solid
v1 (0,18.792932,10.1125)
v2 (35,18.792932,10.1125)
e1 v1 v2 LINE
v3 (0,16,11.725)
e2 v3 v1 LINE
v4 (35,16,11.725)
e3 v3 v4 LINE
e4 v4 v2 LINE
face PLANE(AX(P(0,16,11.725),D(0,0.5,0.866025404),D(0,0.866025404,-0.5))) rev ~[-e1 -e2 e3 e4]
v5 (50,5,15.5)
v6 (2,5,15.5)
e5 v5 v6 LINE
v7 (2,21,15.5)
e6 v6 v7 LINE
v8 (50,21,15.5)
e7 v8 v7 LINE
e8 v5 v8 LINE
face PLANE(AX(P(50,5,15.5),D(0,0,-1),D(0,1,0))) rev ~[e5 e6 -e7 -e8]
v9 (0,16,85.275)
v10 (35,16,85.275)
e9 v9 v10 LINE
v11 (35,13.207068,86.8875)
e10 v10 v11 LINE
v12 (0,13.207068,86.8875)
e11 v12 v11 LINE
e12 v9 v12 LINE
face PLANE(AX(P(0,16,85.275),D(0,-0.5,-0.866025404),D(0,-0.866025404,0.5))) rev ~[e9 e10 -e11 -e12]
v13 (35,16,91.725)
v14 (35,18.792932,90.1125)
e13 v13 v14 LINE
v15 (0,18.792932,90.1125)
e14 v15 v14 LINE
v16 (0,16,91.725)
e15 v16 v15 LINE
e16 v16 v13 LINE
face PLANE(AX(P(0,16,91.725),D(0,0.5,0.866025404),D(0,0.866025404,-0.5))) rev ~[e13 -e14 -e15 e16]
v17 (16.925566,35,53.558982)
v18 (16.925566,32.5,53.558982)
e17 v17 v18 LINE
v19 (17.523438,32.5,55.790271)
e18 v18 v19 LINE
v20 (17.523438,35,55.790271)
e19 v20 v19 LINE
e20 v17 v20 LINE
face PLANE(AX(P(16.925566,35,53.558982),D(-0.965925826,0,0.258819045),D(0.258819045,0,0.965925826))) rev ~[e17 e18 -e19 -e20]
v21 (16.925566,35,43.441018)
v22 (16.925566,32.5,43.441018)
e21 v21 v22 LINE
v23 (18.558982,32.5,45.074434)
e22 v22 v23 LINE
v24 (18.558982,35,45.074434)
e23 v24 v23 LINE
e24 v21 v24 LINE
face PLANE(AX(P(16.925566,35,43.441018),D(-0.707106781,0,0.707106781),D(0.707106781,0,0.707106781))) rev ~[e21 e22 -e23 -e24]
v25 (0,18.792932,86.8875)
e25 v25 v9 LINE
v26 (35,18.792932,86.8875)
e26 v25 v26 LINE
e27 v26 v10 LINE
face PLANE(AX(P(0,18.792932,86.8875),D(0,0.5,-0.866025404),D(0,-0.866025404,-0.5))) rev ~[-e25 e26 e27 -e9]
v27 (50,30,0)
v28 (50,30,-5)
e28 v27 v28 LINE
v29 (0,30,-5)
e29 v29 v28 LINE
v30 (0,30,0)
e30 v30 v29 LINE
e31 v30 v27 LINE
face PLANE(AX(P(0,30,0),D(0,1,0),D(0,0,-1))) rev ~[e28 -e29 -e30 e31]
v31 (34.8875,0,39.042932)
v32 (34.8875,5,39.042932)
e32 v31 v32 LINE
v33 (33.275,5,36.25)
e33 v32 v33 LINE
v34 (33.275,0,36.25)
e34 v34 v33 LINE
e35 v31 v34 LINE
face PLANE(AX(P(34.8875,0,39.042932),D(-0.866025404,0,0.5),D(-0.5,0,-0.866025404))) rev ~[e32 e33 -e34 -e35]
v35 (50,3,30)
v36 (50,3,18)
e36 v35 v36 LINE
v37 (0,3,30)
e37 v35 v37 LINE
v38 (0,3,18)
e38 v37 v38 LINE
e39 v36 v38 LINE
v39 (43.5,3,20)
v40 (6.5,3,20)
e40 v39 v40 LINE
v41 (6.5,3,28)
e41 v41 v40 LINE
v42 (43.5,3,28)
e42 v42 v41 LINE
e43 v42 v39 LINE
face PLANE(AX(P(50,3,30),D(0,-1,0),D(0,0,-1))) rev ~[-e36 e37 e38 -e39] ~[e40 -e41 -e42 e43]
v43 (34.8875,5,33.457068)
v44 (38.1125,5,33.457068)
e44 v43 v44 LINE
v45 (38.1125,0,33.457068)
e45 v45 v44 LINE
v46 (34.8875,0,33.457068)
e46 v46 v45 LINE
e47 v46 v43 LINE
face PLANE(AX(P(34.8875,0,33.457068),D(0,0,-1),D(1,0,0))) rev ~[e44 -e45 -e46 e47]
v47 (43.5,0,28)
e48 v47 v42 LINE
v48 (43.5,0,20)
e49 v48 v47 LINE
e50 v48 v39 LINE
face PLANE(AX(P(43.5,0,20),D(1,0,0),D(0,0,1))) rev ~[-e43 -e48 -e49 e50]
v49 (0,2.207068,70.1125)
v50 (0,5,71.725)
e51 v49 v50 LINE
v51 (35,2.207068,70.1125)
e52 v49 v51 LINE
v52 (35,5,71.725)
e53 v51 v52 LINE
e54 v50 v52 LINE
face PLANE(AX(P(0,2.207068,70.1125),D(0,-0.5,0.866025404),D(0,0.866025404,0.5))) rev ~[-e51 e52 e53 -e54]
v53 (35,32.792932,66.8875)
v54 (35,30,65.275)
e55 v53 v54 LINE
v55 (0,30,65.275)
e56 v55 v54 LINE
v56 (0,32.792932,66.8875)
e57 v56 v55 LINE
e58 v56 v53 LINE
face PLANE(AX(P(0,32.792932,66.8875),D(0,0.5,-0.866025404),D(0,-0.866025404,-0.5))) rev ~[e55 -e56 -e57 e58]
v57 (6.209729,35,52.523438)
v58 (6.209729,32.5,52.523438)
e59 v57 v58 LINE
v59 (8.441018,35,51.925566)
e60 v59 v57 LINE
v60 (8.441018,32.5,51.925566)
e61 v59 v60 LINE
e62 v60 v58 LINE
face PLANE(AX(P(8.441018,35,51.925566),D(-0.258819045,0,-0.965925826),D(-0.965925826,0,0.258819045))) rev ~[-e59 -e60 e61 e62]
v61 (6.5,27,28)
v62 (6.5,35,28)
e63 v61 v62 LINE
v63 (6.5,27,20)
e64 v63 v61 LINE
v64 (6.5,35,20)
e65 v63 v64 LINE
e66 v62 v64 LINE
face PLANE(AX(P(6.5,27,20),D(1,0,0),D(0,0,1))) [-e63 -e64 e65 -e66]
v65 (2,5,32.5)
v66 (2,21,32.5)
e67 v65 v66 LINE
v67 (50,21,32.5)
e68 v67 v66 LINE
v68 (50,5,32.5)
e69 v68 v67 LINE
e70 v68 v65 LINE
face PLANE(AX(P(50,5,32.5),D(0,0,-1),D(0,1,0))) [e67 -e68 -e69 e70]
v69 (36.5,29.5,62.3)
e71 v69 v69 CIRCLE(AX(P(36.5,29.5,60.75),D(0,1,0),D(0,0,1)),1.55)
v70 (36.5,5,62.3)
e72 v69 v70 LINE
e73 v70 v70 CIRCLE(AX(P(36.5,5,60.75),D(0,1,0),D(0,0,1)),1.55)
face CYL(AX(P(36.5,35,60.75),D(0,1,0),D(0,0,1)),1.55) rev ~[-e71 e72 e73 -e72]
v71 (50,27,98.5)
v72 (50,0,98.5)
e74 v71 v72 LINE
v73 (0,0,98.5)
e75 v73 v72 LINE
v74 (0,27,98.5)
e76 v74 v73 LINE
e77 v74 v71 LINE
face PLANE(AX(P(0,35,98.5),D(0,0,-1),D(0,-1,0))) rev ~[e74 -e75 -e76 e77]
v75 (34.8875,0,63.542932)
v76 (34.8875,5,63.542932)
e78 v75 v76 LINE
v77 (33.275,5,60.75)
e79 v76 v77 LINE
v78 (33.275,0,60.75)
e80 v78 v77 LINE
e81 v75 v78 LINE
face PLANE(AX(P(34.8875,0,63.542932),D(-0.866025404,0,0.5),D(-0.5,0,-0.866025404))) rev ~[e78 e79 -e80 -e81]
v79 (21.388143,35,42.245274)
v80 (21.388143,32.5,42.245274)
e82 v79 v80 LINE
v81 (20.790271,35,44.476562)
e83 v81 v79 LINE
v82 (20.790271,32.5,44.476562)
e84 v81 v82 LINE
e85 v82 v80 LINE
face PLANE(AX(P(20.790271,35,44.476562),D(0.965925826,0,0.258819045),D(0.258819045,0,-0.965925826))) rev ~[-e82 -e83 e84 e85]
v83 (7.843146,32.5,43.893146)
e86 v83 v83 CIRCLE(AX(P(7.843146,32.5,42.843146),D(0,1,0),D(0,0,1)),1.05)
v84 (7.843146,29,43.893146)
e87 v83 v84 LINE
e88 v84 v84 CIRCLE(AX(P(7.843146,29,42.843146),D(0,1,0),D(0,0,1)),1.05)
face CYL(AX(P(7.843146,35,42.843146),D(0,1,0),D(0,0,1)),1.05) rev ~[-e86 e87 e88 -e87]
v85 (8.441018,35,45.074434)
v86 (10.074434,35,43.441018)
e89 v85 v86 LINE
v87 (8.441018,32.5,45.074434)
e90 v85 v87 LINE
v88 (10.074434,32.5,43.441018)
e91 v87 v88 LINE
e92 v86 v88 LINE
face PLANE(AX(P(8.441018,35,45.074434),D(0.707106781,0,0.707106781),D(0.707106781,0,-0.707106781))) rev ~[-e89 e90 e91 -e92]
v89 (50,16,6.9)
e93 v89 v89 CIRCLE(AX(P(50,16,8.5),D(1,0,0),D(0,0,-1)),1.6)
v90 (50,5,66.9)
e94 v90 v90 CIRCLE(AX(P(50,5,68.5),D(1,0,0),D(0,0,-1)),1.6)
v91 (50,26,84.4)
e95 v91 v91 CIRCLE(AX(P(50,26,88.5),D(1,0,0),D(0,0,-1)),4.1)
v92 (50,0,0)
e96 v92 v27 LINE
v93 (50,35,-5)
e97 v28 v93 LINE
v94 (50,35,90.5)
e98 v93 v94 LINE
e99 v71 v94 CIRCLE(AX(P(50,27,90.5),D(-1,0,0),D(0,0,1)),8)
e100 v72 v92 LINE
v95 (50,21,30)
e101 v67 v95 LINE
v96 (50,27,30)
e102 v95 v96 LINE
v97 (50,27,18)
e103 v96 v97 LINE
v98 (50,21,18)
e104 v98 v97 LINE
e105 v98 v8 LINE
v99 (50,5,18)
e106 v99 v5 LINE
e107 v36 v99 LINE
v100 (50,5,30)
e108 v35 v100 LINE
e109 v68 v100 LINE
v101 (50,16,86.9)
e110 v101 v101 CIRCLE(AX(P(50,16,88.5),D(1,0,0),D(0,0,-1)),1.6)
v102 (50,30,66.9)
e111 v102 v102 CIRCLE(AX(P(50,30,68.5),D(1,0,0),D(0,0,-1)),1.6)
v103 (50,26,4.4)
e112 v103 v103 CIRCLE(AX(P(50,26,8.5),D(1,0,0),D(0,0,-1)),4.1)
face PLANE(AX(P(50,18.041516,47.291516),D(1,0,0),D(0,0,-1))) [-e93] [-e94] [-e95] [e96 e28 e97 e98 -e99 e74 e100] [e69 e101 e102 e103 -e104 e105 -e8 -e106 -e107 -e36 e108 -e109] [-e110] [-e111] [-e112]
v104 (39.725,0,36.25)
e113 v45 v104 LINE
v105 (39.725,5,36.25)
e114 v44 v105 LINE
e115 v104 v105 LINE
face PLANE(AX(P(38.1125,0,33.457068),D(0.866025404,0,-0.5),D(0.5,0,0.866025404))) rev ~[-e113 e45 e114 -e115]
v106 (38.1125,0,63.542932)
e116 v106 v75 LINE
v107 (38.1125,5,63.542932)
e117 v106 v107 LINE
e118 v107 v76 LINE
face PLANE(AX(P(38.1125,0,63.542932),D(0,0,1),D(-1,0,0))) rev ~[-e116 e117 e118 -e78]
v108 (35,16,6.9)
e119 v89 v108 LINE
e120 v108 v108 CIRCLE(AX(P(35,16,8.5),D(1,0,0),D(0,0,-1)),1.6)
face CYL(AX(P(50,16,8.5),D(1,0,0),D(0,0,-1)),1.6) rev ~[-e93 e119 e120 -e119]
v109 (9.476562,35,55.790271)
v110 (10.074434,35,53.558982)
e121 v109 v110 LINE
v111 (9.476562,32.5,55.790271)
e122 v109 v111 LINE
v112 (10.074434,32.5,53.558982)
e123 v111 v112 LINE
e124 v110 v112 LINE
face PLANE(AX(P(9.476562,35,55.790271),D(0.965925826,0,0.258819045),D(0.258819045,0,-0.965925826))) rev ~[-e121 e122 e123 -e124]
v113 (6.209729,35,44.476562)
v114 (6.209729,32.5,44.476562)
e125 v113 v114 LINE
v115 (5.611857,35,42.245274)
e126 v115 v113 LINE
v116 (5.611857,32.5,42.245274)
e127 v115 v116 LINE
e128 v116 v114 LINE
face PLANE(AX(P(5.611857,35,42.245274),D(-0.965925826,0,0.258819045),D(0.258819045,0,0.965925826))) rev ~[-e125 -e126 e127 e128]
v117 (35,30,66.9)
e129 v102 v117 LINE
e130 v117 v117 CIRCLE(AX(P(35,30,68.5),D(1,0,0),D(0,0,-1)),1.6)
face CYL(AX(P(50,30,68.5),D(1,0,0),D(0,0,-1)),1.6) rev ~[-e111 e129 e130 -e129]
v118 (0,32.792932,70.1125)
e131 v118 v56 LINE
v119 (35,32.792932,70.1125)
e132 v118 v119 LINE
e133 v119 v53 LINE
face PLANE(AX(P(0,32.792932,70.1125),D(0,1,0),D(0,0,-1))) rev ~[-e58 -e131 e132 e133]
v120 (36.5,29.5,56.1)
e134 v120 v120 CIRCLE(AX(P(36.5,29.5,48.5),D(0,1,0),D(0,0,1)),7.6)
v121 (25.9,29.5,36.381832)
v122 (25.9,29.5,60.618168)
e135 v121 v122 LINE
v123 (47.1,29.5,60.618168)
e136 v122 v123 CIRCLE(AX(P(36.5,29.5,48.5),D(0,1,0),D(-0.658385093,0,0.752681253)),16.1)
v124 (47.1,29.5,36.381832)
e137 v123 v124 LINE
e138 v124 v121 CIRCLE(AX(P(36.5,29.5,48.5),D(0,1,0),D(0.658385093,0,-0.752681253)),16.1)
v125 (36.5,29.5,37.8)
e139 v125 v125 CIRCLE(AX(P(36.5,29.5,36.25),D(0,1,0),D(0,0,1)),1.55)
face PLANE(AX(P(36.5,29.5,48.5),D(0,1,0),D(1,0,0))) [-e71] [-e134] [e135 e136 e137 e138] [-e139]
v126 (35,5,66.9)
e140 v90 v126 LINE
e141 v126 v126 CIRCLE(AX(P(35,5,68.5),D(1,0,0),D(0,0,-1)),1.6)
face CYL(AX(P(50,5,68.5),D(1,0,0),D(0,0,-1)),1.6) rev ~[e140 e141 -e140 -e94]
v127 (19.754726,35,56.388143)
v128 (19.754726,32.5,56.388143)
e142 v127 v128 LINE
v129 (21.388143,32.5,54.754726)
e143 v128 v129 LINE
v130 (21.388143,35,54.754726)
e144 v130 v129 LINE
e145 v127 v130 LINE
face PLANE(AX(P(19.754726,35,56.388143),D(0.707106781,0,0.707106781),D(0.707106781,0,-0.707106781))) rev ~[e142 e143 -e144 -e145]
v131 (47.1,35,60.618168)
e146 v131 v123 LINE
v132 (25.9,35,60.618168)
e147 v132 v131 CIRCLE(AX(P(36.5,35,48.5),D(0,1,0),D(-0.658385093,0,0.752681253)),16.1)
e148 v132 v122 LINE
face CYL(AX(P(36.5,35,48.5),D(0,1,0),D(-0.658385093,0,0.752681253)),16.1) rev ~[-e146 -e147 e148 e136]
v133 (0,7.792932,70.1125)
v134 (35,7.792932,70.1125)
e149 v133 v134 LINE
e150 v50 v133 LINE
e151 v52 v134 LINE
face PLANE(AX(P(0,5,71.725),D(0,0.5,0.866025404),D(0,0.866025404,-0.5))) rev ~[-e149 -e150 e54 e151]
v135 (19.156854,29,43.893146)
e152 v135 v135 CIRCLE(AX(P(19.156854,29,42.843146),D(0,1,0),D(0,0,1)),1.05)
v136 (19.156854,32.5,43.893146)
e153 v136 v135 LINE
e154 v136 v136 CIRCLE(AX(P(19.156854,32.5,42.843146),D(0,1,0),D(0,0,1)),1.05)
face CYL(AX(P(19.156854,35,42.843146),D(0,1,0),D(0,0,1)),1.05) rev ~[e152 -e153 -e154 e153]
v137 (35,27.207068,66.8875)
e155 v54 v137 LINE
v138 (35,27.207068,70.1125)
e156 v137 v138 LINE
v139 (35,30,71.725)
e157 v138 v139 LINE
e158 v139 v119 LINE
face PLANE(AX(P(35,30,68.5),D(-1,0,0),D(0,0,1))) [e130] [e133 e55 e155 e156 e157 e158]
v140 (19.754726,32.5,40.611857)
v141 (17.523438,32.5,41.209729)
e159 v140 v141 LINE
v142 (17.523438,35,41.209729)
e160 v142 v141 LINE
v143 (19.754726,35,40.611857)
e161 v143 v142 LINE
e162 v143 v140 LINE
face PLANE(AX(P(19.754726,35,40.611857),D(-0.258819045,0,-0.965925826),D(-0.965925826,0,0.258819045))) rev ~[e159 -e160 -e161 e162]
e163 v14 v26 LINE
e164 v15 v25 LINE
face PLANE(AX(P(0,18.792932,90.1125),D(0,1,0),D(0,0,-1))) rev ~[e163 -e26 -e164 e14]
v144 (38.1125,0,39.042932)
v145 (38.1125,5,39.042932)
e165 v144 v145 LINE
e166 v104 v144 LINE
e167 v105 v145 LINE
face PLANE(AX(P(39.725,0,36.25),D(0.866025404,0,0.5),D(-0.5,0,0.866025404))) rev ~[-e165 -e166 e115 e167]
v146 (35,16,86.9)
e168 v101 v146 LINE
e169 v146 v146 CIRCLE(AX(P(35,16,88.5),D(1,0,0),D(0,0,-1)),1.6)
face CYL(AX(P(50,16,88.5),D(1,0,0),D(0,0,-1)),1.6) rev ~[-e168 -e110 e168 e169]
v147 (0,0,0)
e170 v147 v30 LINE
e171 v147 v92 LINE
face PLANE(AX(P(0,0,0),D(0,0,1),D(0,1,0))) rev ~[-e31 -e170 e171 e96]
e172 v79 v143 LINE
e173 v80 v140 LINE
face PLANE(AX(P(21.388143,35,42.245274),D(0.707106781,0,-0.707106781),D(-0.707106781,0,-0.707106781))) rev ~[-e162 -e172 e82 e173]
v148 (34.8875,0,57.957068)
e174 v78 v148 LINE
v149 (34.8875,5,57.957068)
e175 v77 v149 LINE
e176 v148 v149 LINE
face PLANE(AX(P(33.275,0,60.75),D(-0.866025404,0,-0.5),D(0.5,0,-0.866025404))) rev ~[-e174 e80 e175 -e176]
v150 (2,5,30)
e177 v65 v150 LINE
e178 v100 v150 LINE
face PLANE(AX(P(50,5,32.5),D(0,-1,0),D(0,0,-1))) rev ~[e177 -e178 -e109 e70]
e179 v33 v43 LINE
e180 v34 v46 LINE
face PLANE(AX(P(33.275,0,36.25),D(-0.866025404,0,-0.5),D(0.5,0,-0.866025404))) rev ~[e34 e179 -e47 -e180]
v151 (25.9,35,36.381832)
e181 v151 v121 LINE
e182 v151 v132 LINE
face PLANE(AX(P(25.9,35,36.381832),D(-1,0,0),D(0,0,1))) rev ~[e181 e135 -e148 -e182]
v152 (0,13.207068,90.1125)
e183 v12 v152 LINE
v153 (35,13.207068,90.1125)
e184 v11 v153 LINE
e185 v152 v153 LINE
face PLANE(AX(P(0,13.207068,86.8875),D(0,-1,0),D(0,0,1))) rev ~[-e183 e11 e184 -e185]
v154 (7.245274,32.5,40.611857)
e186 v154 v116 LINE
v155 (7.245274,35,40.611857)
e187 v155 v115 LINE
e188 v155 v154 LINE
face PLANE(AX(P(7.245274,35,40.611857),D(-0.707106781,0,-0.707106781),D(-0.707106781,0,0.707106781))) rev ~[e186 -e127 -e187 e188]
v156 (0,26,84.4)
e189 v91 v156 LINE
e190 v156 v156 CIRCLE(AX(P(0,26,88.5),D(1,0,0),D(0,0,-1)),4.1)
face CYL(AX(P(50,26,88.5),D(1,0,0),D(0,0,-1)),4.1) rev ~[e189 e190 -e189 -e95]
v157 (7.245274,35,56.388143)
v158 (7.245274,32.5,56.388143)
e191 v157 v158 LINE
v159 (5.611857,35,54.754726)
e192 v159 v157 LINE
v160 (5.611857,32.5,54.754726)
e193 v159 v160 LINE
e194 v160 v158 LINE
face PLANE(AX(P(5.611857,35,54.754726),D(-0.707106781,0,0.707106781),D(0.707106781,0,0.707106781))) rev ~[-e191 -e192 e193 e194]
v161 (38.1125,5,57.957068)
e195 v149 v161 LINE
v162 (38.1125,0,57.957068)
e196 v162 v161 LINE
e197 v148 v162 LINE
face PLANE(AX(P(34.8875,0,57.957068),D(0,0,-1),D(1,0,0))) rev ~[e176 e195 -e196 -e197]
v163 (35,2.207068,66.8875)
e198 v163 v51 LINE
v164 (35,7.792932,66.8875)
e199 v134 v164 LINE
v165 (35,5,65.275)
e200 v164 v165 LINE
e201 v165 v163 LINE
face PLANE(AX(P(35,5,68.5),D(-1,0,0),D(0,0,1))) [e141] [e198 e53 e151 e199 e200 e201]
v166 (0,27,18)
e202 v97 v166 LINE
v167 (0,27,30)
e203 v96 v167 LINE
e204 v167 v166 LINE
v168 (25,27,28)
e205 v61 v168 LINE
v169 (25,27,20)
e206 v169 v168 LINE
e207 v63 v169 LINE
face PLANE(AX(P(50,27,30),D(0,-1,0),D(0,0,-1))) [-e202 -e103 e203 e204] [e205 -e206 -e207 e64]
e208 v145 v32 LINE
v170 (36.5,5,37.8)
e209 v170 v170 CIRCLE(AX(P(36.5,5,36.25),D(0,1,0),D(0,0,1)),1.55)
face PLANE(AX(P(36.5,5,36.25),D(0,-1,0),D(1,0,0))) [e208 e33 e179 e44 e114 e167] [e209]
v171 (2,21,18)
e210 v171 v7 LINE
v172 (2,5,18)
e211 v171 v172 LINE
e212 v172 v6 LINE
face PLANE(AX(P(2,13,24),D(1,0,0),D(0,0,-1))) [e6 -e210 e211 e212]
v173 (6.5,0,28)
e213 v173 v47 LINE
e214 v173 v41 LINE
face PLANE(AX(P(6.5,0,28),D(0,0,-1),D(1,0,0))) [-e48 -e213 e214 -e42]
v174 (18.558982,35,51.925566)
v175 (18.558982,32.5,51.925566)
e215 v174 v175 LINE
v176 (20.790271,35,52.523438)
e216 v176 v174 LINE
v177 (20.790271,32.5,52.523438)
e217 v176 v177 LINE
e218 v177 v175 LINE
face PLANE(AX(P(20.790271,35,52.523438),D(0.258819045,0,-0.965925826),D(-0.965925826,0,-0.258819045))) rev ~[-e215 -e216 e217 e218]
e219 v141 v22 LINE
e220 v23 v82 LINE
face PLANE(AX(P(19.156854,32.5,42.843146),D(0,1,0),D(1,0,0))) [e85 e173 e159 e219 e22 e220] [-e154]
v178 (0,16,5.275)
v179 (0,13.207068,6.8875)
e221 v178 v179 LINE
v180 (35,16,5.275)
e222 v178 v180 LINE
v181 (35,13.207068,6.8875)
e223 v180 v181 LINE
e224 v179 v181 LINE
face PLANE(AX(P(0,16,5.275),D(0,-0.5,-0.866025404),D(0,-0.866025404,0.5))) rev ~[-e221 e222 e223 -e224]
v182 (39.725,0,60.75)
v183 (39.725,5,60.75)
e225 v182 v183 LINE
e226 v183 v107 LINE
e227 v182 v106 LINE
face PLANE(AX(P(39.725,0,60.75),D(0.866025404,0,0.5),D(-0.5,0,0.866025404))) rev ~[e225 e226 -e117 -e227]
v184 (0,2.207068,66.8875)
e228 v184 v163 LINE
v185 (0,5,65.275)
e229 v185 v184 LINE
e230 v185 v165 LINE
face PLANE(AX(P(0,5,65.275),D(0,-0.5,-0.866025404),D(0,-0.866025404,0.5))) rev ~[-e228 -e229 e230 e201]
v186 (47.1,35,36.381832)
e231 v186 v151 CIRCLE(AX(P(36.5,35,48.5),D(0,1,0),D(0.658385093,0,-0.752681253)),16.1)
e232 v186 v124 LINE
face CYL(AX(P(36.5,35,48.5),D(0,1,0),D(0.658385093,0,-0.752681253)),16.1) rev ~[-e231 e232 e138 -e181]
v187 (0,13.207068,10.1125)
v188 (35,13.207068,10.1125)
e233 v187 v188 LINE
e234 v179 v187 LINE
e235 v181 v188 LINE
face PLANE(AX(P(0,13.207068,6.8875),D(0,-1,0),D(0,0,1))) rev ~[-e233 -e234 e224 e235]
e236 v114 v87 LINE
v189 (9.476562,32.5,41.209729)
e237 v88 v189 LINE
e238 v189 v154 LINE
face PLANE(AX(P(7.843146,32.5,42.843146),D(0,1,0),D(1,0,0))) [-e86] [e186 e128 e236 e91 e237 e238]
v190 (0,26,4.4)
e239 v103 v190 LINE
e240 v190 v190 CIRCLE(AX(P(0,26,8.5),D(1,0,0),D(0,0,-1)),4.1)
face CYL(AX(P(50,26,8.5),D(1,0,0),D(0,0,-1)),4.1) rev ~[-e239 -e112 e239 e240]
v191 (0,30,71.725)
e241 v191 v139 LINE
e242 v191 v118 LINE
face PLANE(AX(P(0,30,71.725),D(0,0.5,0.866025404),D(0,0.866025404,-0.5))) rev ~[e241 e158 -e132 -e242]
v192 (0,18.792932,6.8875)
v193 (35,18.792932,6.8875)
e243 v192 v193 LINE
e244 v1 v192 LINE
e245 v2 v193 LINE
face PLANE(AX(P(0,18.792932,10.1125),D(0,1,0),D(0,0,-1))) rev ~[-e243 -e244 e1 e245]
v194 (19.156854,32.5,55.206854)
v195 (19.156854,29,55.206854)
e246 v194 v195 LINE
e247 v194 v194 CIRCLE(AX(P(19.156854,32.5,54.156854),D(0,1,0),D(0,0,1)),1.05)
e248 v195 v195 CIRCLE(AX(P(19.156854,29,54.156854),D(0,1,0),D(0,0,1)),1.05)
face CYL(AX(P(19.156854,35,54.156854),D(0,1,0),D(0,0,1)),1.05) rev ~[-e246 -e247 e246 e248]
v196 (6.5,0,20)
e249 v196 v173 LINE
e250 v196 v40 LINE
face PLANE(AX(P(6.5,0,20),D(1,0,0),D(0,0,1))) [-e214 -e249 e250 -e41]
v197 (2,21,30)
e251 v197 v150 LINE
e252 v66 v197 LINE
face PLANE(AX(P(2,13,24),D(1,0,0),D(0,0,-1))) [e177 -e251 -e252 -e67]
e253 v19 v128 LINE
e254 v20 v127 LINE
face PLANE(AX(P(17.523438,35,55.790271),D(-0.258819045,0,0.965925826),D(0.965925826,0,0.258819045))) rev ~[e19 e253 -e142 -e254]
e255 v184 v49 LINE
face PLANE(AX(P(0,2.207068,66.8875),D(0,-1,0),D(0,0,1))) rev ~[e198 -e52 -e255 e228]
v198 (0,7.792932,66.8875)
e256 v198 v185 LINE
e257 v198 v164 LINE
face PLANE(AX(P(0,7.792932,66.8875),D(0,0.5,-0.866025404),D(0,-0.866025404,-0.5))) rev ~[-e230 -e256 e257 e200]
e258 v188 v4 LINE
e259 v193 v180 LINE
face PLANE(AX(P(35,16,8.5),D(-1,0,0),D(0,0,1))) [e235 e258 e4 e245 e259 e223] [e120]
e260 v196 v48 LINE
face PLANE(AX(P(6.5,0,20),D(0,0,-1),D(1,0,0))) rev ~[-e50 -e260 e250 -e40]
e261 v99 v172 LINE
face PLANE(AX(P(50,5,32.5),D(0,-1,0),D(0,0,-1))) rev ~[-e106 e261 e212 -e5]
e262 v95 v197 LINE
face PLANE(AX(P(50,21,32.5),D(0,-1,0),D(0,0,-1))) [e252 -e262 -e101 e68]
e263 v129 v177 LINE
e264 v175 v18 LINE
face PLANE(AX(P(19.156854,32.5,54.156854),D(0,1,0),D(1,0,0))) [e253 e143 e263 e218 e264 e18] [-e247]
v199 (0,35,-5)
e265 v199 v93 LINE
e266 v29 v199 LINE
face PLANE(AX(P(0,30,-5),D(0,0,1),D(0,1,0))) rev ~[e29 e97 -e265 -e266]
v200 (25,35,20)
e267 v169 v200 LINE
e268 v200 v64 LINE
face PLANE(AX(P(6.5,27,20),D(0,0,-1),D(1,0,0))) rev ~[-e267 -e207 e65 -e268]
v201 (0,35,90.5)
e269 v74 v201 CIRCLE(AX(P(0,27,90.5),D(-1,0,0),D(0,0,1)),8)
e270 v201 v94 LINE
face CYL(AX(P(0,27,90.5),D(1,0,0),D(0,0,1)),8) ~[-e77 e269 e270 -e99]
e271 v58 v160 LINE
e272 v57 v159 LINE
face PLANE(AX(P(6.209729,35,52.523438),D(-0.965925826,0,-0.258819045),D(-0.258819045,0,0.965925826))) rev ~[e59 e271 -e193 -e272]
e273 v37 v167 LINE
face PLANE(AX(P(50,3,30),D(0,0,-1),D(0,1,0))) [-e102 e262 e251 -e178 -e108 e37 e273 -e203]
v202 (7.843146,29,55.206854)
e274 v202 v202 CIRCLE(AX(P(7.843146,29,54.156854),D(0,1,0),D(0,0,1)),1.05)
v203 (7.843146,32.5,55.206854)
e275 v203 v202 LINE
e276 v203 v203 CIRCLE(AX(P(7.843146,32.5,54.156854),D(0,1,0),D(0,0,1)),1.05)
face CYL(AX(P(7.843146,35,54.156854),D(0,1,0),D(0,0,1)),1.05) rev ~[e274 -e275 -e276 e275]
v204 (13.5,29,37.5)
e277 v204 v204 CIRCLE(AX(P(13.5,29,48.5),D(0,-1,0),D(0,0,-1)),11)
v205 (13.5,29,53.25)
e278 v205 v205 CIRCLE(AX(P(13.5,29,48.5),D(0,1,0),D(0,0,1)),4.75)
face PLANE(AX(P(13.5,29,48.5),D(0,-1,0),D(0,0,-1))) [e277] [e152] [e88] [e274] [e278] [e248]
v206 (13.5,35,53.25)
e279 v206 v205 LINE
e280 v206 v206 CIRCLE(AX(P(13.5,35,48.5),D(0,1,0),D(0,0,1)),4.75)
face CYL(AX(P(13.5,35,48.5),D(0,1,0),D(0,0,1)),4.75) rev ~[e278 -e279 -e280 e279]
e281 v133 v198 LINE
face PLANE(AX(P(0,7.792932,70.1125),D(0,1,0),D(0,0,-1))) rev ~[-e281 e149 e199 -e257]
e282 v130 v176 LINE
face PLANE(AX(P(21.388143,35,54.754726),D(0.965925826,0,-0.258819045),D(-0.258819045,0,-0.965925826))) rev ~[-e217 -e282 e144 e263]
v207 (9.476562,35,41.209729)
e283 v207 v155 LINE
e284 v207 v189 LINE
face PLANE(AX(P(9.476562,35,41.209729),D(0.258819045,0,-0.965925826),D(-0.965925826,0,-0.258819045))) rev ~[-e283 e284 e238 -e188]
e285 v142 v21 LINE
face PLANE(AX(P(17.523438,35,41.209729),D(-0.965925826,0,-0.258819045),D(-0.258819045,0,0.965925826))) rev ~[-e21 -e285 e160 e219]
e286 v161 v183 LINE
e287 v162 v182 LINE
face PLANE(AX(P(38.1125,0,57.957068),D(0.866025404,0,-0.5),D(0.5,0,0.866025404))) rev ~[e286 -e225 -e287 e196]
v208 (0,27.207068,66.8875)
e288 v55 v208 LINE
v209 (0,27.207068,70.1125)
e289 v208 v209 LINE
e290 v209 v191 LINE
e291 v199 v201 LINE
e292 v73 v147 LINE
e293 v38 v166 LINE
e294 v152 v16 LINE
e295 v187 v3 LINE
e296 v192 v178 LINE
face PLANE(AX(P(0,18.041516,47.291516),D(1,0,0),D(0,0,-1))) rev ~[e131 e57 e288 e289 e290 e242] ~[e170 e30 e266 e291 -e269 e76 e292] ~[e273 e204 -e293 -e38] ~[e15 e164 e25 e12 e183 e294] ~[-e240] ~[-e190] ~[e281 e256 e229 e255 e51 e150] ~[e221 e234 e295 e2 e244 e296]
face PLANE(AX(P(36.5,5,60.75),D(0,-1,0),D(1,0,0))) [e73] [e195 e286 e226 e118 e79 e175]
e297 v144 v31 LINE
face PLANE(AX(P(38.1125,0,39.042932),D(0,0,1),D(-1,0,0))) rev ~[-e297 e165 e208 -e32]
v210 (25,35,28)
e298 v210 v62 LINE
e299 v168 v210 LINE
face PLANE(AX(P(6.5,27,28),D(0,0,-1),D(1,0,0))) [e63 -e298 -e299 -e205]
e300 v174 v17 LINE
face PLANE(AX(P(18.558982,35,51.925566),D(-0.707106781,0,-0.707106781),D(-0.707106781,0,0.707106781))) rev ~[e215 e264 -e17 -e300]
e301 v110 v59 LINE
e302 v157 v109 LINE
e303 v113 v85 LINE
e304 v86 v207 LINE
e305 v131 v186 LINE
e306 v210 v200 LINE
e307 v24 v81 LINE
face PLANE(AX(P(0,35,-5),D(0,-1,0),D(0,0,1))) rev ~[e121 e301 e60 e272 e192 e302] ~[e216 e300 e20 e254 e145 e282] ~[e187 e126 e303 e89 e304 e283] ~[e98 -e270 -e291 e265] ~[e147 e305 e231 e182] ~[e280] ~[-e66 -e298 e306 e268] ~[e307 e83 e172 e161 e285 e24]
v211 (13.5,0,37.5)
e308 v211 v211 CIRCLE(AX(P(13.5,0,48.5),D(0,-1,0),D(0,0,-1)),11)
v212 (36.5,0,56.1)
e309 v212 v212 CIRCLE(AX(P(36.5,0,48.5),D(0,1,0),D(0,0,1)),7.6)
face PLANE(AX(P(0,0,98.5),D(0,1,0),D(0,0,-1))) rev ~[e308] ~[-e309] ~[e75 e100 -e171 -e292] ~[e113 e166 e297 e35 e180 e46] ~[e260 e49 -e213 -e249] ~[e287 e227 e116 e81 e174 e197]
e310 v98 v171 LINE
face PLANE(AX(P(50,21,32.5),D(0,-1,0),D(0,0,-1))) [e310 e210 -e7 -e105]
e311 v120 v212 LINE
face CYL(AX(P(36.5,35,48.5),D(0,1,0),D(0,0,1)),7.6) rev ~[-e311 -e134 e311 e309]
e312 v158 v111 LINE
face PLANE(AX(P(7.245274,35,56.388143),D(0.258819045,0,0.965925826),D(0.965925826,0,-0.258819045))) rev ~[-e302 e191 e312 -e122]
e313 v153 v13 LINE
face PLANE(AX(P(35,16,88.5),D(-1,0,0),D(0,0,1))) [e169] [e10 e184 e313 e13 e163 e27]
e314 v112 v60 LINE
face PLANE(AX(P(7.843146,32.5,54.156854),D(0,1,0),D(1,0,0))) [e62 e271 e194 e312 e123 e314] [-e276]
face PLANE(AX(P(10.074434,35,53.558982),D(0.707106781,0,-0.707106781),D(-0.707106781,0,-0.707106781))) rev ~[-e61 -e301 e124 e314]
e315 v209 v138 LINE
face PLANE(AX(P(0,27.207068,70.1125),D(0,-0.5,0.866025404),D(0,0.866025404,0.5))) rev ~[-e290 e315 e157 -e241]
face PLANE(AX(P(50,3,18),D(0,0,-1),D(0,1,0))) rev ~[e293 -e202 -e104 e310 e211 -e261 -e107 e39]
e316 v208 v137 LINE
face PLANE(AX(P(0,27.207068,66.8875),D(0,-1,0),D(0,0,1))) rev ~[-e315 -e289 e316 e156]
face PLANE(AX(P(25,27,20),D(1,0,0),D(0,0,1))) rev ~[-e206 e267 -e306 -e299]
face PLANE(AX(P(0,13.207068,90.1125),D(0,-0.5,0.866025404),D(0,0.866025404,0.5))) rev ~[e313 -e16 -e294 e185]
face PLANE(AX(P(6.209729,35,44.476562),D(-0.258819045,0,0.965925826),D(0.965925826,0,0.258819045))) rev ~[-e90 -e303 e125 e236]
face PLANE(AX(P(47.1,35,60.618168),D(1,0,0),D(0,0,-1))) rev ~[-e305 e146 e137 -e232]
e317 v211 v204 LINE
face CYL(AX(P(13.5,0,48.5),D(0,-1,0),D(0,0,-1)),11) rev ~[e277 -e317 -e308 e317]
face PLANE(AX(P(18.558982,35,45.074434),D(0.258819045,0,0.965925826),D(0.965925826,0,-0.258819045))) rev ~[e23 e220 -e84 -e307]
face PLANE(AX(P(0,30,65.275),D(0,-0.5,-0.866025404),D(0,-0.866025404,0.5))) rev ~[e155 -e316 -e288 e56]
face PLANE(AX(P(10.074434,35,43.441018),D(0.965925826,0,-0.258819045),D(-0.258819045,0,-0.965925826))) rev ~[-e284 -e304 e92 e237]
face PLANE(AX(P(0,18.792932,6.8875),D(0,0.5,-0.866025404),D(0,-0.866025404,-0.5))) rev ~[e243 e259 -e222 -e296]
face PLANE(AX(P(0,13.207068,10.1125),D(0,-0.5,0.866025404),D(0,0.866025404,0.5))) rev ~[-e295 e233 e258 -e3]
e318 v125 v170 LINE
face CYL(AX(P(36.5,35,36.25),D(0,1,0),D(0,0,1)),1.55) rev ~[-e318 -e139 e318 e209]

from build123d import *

# Parameters (mm, degrees)
BOSS_EXTRUDE1_DEPTH            = 50
SKETCH2_R                      = 7.6
SKETCH2_R_2                    = 4.75
SKETCH2_R_3                    = 1.55
SKETCH2_R_4                    = 1.05
CUT_EXTRUDE1_DEPTH             = 116.876011322
CUT_EXTRUDE2_DEPTH             = 5.5
SKETCH4_R                      = 11
CUT_EXTRUDE3_DEPTH             = 29
CUT_EXTRUDE4_DEPTH             = 5
CUT_EXTRUDE5_DEPTH             = 2.5
SKETCH7_R                      = 4.1
SKETCH7_R_2                    = 1.6
SKETCH7_W                      = 12
SKETCH7_H                      = 24
CUT_EXTRUDE6_DEPTH             = 116.876011322
CUT_EXTRUDE7_DEPTH             = 35
SKETCH9_W                      = 17
SKETCH9_H                      = 16
CUT_EXTRUDE8_DEPTH             = 48
CUT_EXTRUDE9_REACH             = 117.876
SKETCH10_W                     = 37
SKETCH10_H                     = 8
CUT_EXTRUDE9_DIRECTION_2_DEPTH = 116.876011322
CUT_EXTRUDE10_REACH            = 115.716
SKETCH11_W                     = 18.5
SKETCH11_H                     = 8
FILLET1_R                      = 8


with BuildPart() as part:
    # Sketch1 → Boss-Extrude1 (new body)
    with BuildSketch(Plane(origin=(0, 0, 0), x_dir=(0, 0, -1), z_dir=(1, 0, 0))):
        Polygon((0, 0), (0, 30), (5, 30), (5, 35), (-98.5, 35), (-98.5, 0), align=None)
    extrude(amount=BOSS_EXTRUDE1_DEPTH)

    # Sketch2 → Cut-Extrude1 (cut, through all)
    with BuildSketch(Plane(origin=(0, 35, 0), x_dir=(1, 0, 0), z_dir=(0, 1, 0))):
        with Locations(Location((36.5, -48.5, 0), (0, 0, 270))):
            Circle(SKETCH2_R)
        with Locations(Location((13.5, -48.5, 0), (0, 0, 270))):
            Circle(SKETCH2_R_2)
        with Locations(Location((36.5, -36.25, 0), (0, 0, 270))):
            Circle(SKETCH2_R_3)
        with Locations(Location((36.5, -60.75, 0), (0, 0, 270))):
            Circle(SKETCH2_R_3)
        with Locations(Location((19.156854249, -42.843145751, 0), (0, 0, 270))):
            Circle(SKETCH2_R_4)
        with Locations(Location((19.156854249, -54.156854249, 0), (0, 0, 270))):
            Circle(SKETCH2_R_4)
        with Locations(Location((7.843145751, -54.156854249, 0), (0, 0, 270))):
            Circle(SKETCH2_R_4)
        with Locations(Location((7.843145751, -42.843145751, 0), (0, 0, 270))):
            Circle(SKETCH2_R_4)
    extrude(amount=-CUT_EXTRUDE1_DEPTH, mode=Mode.SUBTRACT)

    # Sketch3 → Cut-Extrude2 (cut)
    with BuildSketch(Plane(origin=(0, 35, 0), x_dir=(1, 0, 0), z_dir=(0, 1, 0))):
        with BuildLine():
            Line((25.9, -36.381831822), (25.9, -60.618168178))
            ThreePointArc((25.9, -60.618168178), (36.5, -64.6), (47.1, -60.618168178))
            Line((47.1, -60.618168178), (47.1, -36.381831822))
            ThreePointArc((47.1, -36.381831822), (36.5, -32.4), (25.9, -36.381831822))
        make_face()
    extrude(amount=-CUT_EXTRUDE2_DEPTH, mode=Mode.SUBTRACT)

    # Sketch4 → Cut-Extrude3 (cut)
    with BuildSketch(Plane.XZ):
        with Locations(Location((13.5, 48.5, 0), (0, 0, 270))):
            Circle(SKETCH4_R)
    extrude(amount=-CUT_EXTRUDE3_DEPTH, mode=Mode.SUBTRACT)

    # Sketch5 → Cut-Extrude4 (cut)
    with BuildSketch(Plane.XZ):
        Polygon((39.725, 60.75), (38.1125, 63.542931927), (34.8875, 63.542931927), (33.275, 60.75), (34.8875, 57.957068073), (38.1125, 57.957068073), align=None)
        Polygon((38.1125, 39.042931927), (34.8875, 39.042931927), (33.275, 36.25), (34.8875, 33.457068073), (38.1125, 33.457068073), (39.725, 36.25), align=None)
    extrude(amount=-CUT_EXTRUDE4_DEPTH, mode=Mode.SUBTRACT)

    # Sketch6 → Cut-Extrude5 (cut)
    with BuildSketch(Plane(origin=(0, 35, 0), x_dir=(1, 0, 0), z_dir=(0, 1, 0))):
        Polygon((21.388142908, -42.245273756), (19.754726244, -40.611857092), (17.523437585, -41.209729086), (16.925565591, -43.441017745), (18.558982255, -45.074434409), (20.790270914, -44.476562415), align=None)
        Polygon((21.388142908, -54.754726244), (20.790270914, -52.523437585), (18.558982255, -51.925565591), (16.925565591, -53.558982255), (17.523437585, -55.790270914), (19.754726244, -56.388142908), align=None)
        Polygon((7.245273756, -56.388142908), (9.476562415, -55.790270914), (10.074434409, -53.558982255), (8.441017745, -51.925565591), (6.209729086, -52.523437585), (5.611857092, -54.754726244), align=None)
        Polygon((5.611857092, -42.245273756), (6.209729086, -44.476562415), (8.441017745, -45.074434409), (10.074434409, -43.441017745), (9.476562415, -41.209729086), (7.245273756, -40.611857092), align=None)
    extrude(amount=-CUT_EXTRUDE5_DEPTH, mode=Mode.SUBTRACT)

    # Sketch7 → Cut-Extrude6 (cut, through all)
    with BuildSketch(Plane(origin=(50, 0, 0), x_dir=(0, 0, -1), z_dir=(1, 0, 0))):
        with Locations((-8.5, 26)):
            Circle(SKETCH7_R)
        with Locations((-88.5, 26)):
            Circle(SKETCH7_R)
        with Locations((-88.5, 16)):
            Circle(SKETCH7_R_2)
        with Locations((-8.5, 16)):
            Circle(SKETCH7_R_2)
        with Locations((-68.5, 30)):
            Circle(SKETCH7_R_2)
        with Locations((-68.5, 5)):
            Circle(SKETCH7_R_2)
        with Locations((-24, 15)):
            Rectangle(SKETCH7_W, SKETCH7_H)
    extrude(amount=-CUT_EXTRUDE6_DEPTH, mode=Mode.SUBTRACT)

    # Sketch8 → Cut-Extrude7 (cut)
    with BuildSketch(Plane.ZY):
        Polygon((11.725, 16), (10.1125, 18.792931927), (6.8875, 18.792931927), (5.275, 16), (6.8875, 13.207068073), (10.1125, 13.207068073), align=None)
        Polygon((65.275, 30), (66.8875, 27.207068073), (70.1125, 27.207068073), (71.725, 30), (70.1125, 32.792931927), (66.8875, 32.792931927), align=None)
        Polygon((65.275, 5), (66.8875, 2.207068073), (70.1125, 2.207068073), (71.725, 5), (70.1125, 7.792931927), (66.8875, 7.792931927), align=None)
        Polygon((85.275, 16), (86.8875, 13.207068073), (90.1125, 13.207068073), (91.725, 16), (90.1125, 18.792931927), (86.8875, 18.792931927), align=None)
    extrude(amount=-CUT_EXTRUDE7_DEPTH, mode=Mode.SUBTRACT)

    # Sketch9 → Cut-Extrude8 (cut)
    with BuildSketch(Plane(origin=(50, 0, 0), x_dir=(0, 0, -1), z_dir=(1, 0, 0))):
        with Locations((-24, 13)):
            Rectangle(SKETCH9_W, SKETCH9_H)
    extrude(amount=-CUT_EXTRUDE8_DEPTH, mode=Mode.SUBTRACT)

    # Sketch10 → Cut-Extrude9 (cut, up to next)
    with BuildSketch(Plane.XZ, mode=Mode.PRIVATE) as cut_extrude9_sk1:
        with Locations((25, 24)):
            Rectangle(SKETCH10_W, SKETCH10_H)
    cut_extrude9_tool1 = extrude(cut_extrude9_sk1.sketch, amount=-CUT_EXTRUDE9_REACH, mode=Mode.PRIVATE) & part.part
    add(cut_extrude9_tool1.solids().sort_by_distance((25, 0, 24))[0], mode=Mode.SUBTRACT)

    # Sketch10 → Cut-Extrude9 direction 2 (cut)
    with BuildSketch(Plane.XZ):
        with Locations((25, 24)):
            Rectangle(SKETCH10_W, SKETCH10_H)
    extrude(amount=CUT_EXTRUDE9_DIRECTION_2_DEPTH, mode=Mode.SUBTRACT)

    # Sketch11 → Cut-Extrude10 (cut, up to next)
    with BuildSketch(Plane.XZ.offset(-27), mode=Mode.PRIVATE) as cut_extrude10_sk1:
        with Locations((15.75, 24)):
            Rectangle(SKETCH11_W, SKETCH11_H)
    cut_extrude10_tool1 = extrude(cut_extrude10_sk1.sketch, amount=-CUT_EXTRUDE10_REACH, mode=Mode.PRIVATE) & part.part
    add(cut_extrude10_tool1.solids().sort_by_distance((15.75, 27, 24))[0], mode=Mode.SUBTRACT)

    # Fillet1
    fillet1_edges = [part.edges().sort_by_distance(p)[0] for p in [
        (25, 35, 98.5),
    ]]
    fillet(fillet1_edges, radius=FILLET1_R)


solid = part.part
